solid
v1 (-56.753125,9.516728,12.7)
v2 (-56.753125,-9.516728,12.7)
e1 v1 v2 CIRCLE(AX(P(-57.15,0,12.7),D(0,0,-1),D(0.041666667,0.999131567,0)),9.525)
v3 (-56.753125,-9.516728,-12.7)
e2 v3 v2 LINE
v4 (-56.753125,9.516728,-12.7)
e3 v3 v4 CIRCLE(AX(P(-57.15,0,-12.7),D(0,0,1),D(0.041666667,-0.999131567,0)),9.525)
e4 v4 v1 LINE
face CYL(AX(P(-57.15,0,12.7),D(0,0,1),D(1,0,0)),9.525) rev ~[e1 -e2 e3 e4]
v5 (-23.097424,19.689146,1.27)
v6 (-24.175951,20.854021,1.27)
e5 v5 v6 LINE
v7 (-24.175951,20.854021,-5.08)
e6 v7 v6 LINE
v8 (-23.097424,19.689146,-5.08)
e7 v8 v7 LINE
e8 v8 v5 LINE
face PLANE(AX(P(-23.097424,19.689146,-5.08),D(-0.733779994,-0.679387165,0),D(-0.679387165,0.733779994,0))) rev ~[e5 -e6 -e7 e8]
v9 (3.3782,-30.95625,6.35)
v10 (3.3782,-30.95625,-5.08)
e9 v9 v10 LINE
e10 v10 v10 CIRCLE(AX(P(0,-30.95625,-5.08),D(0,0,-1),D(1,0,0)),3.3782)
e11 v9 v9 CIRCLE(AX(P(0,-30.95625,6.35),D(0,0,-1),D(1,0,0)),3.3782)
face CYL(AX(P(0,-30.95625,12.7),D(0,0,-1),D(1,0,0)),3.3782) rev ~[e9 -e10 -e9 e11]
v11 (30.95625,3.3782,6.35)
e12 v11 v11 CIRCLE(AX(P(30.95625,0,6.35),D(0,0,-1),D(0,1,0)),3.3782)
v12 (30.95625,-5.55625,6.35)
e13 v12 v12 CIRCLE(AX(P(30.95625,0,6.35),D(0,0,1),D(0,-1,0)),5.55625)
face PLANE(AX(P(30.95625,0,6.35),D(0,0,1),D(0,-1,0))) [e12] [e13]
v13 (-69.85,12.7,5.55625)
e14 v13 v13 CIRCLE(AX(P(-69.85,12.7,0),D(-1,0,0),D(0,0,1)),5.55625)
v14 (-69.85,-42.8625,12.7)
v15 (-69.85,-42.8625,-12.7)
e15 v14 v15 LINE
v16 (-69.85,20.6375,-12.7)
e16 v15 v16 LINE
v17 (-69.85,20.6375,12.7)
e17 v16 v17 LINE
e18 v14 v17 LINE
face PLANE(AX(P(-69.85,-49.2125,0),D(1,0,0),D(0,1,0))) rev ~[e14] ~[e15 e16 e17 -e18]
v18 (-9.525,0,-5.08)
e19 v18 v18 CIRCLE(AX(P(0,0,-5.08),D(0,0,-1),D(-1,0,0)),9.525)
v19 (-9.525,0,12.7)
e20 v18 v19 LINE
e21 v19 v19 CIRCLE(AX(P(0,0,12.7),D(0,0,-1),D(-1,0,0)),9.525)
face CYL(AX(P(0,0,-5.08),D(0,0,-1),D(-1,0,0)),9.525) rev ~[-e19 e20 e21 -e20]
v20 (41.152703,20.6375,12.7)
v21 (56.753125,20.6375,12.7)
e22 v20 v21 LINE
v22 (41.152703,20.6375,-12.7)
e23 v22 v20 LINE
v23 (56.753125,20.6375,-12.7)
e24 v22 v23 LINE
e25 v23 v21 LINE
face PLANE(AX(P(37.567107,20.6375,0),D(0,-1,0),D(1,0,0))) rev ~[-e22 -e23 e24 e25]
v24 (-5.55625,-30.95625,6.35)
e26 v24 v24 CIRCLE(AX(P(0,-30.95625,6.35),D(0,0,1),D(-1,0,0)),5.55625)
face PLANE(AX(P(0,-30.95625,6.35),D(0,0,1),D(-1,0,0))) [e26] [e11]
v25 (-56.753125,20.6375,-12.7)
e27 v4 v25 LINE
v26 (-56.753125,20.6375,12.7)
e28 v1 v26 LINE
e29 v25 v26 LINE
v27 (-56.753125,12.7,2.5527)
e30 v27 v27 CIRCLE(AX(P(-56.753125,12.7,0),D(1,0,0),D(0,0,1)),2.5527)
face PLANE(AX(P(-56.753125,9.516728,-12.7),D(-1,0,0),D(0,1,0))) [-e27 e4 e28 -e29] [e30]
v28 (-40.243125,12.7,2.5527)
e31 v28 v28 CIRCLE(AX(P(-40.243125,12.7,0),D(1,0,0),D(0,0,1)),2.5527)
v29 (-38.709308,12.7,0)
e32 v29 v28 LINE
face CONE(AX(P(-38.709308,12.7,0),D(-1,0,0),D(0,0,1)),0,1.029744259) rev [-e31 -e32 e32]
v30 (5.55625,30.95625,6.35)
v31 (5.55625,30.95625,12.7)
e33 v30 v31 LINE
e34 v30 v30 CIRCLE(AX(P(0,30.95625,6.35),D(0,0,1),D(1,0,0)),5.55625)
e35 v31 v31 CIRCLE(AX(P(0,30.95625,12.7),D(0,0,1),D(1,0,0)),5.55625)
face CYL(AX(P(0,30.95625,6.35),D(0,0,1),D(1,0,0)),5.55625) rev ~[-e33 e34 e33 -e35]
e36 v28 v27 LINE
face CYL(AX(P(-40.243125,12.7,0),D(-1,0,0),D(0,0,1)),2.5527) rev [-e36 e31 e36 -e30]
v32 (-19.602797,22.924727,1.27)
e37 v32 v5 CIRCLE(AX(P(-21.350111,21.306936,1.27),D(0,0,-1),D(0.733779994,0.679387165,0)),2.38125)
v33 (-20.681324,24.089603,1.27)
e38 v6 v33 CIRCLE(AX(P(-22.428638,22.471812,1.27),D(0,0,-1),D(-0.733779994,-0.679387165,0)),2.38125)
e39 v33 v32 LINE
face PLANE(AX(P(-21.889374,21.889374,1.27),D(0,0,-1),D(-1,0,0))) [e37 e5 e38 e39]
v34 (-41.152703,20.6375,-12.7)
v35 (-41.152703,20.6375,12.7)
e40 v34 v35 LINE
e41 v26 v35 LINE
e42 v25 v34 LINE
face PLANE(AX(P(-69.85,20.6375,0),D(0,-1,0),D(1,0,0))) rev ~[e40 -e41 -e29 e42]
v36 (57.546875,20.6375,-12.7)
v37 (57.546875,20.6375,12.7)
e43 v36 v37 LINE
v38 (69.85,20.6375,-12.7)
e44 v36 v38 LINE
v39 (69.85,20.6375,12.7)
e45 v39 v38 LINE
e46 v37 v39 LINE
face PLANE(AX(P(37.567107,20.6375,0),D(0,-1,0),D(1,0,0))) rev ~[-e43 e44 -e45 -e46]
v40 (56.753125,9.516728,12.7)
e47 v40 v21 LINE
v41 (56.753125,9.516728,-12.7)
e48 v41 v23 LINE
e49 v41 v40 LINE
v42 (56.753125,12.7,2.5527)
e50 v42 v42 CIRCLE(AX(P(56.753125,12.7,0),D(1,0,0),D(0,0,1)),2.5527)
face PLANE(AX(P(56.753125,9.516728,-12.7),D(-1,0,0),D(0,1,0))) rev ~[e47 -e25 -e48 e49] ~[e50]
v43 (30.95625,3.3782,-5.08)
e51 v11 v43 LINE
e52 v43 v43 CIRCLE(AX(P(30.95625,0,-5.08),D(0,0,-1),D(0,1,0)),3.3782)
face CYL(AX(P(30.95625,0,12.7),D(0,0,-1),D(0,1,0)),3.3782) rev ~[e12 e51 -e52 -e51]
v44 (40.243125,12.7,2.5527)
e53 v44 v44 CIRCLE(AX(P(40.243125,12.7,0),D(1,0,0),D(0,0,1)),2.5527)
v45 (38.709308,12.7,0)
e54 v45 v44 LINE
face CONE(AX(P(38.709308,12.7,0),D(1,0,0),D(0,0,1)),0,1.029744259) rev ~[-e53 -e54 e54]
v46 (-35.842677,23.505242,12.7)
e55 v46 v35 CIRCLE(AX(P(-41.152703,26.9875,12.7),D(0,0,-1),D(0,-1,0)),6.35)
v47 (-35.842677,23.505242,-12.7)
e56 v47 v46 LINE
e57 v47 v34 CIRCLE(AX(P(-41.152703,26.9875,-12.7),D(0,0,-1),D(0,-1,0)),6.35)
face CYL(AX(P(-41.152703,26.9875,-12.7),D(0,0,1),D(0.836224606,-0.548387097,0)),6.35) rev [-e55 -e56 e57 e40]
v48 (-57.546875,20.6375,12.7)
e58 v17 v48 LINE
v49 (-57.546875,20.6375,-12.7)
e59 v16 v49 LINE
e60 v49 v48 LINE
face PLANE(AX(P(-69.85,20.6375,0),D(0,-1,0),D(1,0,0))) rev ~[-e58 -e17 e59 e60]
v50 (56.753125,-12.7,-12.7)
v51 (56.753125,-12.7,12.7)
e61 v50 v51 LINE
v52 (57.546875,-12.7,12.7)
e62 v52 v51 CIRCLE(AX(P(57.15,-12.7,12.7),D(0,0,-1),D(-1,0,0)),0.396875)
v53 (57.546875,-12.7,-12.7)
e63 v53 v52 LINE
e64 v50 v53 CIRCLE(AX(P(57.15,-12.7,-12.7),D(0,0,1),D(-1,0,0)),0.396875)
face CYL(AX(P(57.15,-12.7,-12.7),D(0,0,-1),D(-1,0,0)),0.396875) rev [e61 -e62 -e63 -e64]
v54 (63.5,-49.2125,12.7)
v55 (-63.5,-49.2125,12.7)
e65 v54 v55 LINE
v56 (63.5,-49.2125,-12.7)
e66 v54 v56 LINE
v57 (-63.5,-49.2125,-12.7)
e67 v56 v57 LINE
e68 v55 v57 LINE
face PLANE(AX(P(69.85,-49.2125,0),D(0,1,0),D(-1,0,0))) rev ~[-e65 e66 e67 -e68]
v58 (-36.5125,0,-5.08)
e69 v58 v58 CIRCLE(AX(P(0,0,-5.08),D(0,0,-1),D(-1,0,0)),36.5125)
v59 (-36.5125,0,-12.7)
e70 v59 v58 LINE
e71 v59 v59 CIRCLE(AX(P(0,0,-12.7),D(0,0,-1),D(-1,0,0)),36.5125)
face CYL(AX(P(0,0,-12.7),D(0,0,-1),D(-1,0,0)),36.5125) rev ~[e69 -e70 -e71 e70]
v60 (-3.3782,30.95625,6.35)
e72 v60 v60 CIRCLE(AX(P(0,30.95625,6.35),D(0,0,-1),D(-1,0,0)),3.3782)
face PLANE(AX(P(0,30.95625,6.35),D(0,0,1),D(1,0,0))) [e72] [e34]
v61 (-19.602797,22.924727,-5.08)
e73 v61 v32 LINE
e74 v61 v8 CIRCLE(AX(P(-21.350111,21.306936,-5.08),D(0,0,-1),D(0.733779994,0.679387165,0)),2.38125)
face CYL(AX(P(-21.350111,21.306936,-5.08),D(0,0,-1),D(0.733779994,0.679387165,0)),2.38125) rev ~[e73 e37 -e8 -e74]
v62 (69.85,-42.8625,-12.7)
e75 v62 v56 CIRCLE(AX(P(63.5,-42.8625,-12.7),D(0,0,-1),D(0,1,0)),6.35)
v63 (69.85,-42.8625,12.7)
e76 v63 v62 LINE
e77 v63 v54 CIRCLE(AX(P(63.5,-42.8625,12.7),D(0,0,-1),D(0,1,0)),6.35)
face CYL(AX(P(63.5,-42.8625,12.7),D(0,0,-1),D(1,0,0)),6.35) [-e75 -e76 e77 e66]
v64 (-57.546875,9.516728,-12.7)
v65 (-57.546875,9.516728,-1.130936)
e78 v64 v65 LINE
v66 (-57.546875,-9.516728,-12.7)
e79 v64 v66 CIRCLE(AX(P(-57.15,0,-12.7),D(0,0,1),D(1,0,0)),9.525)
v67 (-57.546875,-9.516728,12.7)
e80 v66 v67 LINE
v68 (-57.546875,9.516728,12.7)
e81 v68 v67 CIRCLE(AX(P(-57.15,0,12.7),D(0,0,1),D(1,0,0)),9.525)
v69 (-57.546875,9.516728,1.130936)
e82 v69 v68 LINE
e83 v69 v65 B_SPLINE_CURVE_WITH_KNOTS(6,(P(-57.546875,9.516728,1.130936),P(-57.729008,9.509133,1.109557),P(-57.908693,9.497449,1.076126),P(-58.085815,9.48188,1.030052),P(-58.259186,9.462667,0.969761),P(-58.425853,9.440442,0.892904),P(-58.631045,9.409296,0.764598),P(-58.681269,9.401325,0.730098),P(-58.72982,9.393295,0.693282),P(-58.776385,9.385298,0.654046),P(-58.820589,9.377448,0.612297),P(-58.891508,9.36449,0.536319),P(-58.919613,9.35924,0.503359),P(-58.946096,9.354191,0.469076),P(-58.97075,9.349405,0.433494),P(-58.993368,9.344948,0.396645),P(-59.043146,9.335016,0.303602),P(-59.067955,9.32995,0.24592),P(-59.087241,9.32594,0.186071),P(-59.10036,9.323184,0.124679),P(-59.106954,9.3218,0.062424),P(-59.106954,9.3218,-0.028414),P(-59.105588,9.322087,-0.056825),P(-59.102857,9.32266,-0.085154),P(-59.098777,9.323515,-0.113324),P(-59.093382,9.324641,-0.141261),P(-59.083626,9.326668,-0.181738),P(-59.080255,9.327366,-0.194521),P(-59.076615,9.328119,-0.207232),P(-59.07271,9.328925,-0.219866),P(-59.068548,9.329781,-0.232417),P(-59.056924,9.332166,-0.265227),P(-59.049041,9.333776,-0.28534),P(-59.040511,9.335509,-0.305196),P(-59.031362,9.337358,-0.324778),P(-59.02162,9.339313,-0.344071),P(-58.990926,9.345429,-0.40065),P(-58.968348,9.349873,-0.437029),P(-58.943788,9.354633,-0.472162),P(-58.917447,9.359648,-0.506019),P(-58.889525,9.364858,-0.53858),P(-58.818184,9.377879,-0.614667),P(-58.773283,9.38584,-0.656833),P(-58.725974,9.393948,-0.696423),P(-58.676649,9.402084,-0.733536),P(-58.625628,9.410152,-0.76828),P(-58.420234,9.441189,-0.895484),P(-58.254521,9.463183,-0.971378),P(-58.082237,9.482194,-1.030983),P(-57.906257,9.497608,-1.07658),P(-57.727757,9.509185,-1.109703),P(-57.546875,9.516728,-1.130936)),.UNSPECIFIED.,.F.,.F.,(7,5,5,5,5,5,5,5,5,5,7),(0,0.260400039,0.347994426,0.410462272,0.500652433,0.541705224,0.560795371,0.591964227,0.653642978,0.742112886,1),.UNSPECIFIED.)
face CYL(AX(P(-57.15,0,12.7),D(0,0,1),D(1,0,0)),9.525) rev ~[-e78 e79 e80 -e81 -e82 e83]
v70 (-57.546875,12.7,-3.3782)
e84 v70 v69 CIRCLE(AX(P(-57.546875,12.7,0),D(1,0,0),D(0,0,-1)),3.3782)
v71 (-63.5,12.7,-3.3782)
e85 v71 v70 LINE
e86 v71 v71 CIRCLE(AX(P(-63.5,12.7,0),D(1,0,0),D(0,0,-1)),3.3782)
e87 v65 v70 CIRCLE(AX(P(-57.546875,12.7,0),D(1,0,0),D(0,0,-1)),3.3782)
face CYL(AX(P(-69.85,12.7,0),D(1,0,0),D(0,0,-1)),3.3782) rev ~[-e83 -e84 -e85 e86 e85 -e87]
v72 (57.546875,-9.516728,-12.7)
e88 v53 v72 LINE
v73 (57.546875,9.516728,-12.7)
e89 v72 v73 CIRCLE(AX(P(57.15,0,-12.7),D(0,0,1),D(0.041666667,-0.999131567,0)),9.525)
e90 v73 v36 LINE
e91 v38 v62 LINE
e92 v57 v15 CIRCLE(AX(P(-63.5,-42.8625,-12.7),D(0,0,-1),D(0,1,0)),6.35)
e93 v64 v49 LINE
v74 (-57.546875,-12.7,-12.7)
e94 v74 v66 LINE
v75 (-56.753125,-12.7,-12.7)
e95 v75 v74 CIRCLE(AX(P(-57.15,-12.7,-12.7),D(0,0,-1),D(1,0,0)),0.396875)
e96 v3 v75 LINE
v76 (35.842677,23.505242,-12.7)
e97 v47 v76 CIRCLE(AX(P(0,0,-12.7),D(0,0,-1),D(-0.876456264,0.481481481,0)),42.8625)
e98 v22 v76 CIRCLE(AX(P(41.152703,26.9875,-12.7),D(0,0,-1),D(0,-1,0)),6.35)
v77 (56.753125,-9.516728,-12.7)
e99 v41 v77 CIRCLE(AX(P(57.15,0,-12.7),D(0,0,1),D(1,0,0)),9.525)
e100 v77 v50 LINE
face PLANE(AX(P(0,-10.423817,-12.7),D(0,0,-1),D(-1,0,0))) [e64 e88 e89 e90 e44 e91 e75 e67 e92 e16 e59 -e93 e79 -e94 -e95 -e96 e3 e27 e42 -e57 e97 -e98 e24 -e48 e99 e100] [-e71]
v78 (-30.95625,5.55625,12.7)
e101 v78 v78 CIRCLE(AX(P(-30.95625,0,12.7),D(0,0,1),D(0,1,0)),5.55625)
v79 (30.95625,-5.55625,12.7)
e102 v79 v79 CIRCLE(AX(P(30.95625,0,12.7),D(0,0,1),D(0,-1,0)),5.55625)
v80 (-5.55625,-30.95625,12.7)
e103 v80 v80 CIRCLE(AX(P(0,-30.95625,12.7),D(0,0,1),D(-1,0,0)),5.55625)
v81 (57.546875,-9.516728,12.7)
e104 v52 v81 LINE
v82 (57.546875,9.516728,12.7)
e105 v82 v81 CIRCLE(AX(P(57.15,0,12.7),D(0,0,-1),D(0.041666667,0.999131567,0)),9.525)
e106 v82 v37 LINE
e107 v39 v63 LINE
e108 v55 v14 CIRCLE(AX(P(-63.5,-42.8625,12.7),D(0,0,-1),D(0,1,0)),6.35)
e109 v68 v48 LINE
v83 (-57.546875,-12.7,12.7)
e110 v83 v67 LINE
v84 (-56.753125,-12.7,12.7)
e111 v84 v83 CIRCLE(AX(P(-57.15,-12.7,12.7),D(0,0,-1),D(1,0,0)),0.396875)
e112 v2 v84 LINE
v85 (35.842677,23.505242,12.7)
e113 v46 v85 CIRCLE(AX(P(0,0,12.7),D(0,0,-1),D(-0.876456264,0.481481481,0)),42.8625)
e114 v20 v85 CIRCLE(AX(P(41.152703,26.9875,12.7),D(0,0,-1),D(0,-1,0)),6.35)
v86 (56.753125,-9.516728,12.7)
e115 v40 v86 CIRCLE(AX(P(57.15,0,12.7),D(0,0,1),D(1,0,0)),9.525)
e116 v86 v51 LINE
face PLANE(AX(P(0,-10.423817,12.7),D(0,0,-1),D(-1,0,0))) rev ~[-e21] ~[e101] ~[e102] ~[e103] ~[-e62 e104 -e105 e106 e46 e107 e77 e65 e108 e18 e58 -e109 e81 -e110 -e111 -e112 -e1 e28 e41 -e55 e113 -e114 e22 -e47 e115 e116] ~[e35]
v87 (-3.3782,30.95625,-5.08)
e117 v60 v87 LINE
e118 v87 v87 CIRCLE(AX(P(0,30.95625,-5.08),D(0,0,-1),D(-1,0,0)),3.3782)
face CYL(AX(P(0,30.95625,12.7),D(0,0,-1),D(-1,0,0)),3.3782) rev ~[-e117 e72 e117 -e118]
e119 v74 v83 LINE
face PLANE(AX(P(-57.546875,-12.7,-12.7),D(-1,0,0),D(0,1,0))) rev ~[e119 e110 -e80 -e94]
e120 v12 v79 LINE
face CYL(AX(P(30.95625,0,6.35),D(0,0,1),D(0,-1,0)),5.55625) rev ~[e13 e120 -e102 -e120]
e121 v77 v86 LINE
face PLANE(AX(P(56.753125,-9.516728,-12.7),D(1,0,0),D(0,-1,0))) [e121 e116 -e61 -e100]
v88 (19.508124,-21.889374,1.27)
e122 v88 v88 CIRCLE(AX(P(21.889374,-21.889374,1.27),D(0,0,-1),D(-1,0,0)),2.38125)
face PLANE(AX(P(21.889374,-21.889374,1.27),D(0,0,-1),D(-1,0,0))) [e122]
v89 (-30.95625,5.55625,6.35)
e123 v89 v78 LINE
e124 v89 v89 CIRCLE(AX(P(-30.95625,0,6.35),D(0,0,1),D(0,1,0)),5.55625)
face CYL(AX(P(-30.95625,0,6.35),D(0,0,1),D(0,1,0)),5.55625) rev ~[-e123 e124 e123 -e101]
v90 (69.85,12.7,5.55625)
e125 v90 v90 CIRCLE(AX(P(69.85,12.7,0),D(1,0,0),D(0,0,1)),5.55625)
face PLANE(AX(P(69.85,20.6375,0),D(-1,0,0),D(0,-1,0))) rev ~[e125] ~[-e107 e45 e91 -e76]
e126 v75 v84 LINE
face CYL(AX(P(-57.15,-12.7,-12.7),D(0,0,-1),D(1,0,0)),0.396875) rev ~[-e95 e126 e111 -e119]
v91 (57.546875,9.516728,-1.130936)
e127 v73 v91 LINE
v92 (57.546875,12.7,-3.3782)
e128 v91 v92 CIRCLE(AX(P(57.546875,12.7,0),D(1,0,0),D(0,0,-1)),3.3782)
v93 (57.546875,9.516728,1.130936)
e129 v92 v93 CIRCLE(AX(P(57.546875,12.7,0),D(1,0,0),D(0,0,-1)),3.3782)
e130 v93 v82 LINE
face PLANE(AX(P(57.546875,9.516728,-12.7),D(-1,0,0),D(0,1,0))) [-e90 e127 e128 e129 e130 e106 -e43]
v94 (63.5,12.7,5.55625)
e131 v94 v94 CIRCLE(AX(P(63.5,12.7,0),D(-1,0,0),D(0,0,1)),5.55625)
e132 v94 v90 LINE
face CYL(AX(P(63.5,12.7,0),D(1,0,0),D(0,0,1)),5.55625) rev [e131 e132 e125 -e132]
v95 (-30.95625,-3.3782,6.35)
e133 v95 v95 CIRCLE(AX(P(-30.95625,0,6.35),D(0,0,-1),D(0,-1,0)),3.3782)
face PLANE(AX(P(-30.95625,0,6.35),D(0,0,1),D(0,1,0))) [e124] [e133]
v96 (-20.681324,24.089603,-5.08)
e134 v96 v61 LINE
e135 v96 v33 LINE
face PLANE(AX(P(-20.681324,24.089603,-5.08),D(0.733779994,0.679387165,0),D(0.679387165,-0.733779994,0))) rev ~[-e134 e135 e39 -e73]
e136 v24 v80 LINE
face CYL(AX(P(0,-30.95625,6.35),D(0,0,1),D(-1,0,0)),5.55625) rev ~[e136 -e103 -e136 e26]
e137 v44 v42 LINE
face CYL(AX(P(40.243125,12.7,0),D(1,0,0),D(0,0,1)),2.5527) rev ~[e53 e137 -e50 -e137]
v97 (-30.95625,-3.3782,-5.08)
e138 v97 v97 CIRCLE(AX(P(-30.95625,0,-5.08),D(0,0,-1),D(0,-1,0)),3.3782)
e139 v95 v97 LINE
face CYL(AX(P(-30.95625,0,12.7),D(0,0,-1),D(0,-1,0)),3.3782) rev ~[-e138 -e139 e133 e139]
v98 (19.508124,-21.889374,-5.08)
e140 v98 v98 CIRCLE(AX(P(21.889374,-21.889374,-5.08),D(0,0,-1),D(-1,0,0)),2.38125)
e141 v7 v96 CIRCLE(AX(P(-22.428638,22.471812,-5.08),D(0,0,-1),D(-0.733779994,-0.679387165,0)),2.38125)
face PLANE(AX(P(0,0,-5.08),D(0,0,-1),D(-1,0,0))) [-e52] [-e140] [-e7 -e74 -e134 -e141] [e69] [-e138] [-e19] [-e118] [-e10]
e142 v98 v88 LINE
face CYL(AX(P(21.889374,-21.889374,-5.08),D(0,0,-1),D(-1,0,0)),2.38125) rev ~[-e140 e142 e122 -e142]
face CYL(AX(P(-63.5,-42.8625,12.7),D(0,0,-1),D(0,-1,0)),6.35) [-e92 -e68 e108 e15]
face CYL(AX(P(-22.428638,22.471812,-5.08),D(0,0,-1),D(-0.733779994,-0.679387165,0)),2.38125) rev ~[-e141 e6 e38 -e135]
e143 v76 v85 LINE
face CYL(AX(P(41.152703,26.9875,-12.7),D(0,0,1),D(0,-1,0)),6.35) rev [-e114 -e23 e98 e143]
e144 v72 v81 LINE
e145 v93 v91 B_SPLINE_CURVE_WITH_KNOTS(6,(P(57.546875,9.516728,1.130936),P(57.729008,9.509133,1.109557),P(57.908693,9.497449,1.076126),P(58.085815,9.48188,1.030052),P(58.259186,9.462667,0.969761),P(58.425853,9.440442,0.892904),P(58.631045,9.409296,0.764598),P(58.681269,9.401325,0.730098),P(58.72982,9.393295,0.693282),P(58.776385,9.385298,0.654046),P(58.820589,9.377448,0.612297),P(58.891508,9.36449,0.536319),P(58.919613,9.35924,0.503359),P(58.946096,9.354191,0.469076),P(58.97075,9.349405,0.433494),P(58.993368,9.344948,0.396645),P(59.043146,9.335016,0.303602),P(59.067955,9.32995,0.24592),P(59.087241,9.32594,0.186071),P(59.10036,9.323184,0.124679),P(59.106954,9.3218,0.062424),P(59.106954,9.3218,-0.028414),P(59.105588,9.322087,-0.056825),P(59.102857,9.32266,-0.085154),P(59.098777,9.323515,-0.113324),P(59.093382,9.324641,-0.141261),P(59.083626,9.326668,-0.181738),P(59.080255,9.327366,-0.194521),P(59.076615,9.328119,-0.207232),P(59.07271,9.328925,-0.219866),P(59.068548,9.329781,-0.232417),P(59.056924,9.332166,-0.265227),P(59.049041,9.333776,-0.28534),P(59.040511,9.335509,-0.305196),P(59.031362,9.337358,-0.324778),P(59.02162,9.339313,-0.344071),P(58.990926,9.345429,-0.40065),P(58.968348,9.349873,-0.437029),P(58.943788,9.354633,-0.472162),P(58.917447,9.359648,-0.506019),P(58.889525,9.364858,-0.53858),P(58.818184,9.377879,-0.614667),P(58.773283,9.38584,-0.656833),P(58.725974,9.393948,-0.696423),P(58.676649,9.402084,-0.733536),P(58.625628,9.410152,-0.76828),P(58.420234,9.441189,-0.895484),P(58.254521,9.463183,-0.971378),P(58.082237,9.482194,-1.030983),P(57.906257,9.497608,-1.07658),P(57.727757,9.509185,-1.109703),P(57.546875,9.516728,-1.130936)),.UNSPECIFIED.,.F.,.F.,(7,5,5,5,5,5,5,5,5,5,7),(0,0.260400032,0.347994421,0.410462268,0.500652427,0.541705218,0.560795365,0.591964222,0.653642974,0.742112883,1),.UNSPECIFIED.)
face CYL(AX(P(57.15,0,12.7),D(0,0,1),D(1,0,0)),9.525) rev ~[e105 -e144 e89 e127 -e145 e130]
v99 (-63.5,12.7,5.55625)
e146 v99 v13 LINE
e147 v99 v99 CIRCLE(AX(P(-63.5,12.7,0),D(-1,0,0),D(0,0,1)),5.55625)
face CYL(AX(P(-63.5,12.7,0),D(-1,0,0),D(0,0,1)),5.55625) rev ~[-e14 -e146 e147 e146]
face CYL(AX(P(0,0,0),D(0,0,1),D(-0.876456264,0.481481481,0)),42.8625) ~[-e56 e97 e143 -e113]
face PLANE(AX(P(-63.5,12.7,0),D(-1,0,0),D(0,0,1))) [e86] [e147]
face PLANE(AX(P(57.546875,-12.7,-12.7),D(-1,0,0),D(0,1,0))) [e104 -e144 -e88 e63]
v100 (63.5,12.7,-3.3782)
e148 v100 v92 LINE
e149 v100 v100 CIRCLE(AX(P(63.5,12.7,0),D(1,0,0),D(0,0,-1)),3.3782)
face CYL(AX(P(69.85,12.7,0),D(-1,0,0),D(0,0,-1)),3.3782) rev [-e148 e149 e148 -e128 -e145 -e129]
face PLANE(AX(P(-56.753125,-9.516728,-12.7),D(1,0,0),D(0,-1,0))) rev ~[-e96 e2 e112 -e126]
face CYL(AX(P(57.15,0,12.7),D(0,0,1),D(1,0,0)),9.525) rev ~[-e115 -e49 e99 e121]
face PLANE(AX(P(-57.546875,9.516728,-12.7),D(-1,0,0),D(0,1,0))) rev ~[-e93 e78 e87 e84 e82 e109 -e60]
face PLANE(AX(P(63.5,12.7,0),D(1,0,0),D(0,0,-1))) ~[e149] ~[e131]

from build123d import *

# Parameters (mm, degrees)
BASE_DEPTH                            = 12.7
TUBE_COUNTERBORE_D                    = 6.7564
TUBE_COUNTERBORE_CBORE_D              = 11.1125
TUBE_COUNTERBORE_CBORE_DEPTH          = 6.35
TUBE_COUNTERBORE_PATTERN_COUNT        = 4
SKETCH8_R                             = 36.5125
STRUCTURE_TUBE_RECESS_DEPTH           = 7.62
SKETCH9_R                             = 9.525
LEAD_SCREW_THRU_HOLE_DEPTH            = 88.275546726
SKETCH13_R                            = 9.525
RAIL_BORE_PILOT_HOLE_DEPTH            = 90.140634148
SKETCH14_R                            = 2.38125
ALIGNMENT_FEATURES_DEPTH              = 6.35
GENERIC_ROUNDING_FILLET_R             = 6.35
SKETCH15_W                            = 0.79375
SKETCH15_H                            = 11.120771821
FLEXURE_SLITS_DEPTH                   = 90.140634148
FLEXURE_CLAMP_COUNTERBORE_D           = 6.7564
FLEXURE_CLAMP_COUNTERBORE_DEPTH       = 12.303125
FLEXURE_CLAMP_COUNTERBORE_CBORE_D     = 11.1125
FLEXURE_CLAMP_COUNTERBORE_CBORE_DEPTH = 6.35


with BuildPart() as part:
    # Bolt circle → Base (new, symmetric)
    with BuildSketch(Plane.XY):
        with BuildLine():
            Line((37.567106623, 20.6375), (69.85, 20.6375))
            Line((69.85, 20.6375), (69.85, -49.2125))
            Line((69.85, -49.2125), (-69.85, -49.2125))
            Line((-69.85, -49.2125), (-69.85, 20.6375))
            Line((-69.85, 20.6375), (-37.567106623, 20.6375))
            ThreePointArc((-37.567106623, 20.6375), (0, 42.8625), (37.567106623, 20.6375))
        make_face()
    extrude(amount=BASE_DEPTH, both=True)

    # Tube counterbore (through all)
    with Locations(Plane.XY.offset(12.7)):
        with Locations((0, 30.95625)):
            tube_counterbore = CounterBoreHole(TUBE_COUNTERBORE_D / 2, TUBE_COUNTERBORE_CBORE_D / 2, TUBE_COUNTERBORE_CBORE_DEPTH)

    # Tube counterbore pattern: Tube counterbore ×4 about axis
    tube_counterbore_pattern_axis = Axis((0, 0, 0), (0, 0, 1))
    for i in range(1, TUBE_COUNTERBORE_PATTERN_COUNT):
        add(tube_counterbore.rotate(tube_counterbore_pattern_axis, i * 360 / TUBE_COUNTERBORE_PATTERN_COUNT), mode=Mode.SUBTRACT)

    # Sketch8 → Structure_tube_recess (cut)
    with BuildSketch(Plane(origin=(0, 0, -12.7), x_dir=(-1, 0, 0), z_dir=(0, 0, -1))):
        Circle(SKETCH8_R)
    extrude(amount=-STRUCTURE_TUBE_RECESS_DEPTH, mode=Mode.SUBTRACT)

    # Sketch9 → Lead_screw_thru_hole (cut, through all)
    with BuildSketch(Plane(origin=(0, 0, -5.08), x_dir=(-1, 0, 0), z_dir=(0, 0, -1))):
        Circle(SKETCH9_R)
    extrude(amount=-LEAD_SCREW_THRU_HOLE_DEPTH, mode=Mode.SUBTRACT)

    # Sketch13 → Rail_bore_pilot_hole (cut, through all)
    with BuildSketch(Plane.XY.offset(12.7)):
        with Locations((57.15, 0)):
            Circle(SKETCH13_R)
        with Locations((-57.15, 0)):
            Circle(SKETCH13_R)
    extrude(amount=-RAIL_BORE_PILOT_HOLE_DEPTH, mode=Mode.SUBTRACT)

    # Sketch14 → Alignment_features (cut)
    with BuildSketch(Plane(origin=(0, 0, -5.08), x_dir=(-1, 0, 0), z_dir=(0, 0, -1))):
        with Locations((-21.889374295, -21.889374295)):
            Circle(SKETCH14_R)
        with BuildLine():
            Line((20.681324246, 24.089602852), (19.602797121, 22.924727111))
            ThreePointArc((19.602797121, 22.924727111), (19.732320046, 19.559622813), (23.097424344, 19.689145738))
            Line((23.097424344, 19.689145738), (24.175951469, 20.854021479))
            ThreePointArc((24.175951469, 20.854021479), (24.046428544, 24.219125777), (20.681324246, 24.089602852))
        make_face()
    extrude(amount=-ALIGNMENT_FEATURES_DEPTH, mode=Mode.SUBTRACT)

    # Generic_rounding_fillet
    generic_rounding_fillet_edges = [part.edges().sort_by_distance(p)[0] for p in [
        (37.567106623, 20.6375, 0),
        (69.85, -49.2125, 0),
        (-69.85, -49.2125, 0),
        (-37.567106623, 20.6375, 0),
    ]]
    fillet(generic_rounding_fillet_edges, radius=GENERIC_ROUNDING_FILLET_R)

    # Sketch15 → Flexure_slits (cut, through all)
    with BuildSketch(Plane(origin=(0, 0, -12.7), x_dir=(-1, 0, 0), z_dir=(0, 0, -1))):
        with BuildLine():
            Line((56.753125, -9.516728179), (56.753125, -12.7))
            ThreePointArc((56.753125, -12.7), (57.15, -13.096875), (57.546875, -12.7))
            Line((57.546875, -12.7), (57.546875, -9.516728179))
            ThreePointArc((57.546875, -9.516728179), (57.15, -9.525), (56.753125, -9.516728179))
        make_face()
        with Locations((57.15, 15.07711409)):
            Rectangle(SKETCH15_W, SKETCH15_H)
        with BuildLine():
            Line((-57.546875, -12.7), (-57.546875, -9.516728179))
            ThreePointArc((-57.546875, -9.516728179), (-57.15, -9.525), (-56.753125, -9.516728179))
            Line((-56.753125, -9.516728179), (-56.753125, -12.7))
            ThreePointArc((-56.753125, -12.7), (-57.15, -13.096875), (-57.546875, -12.7))
        make_face()
        with Locations((-57.15, 15.07711409)):
            Rectangle(SKETCH15_W, SKETCH15_H)
    extrude(amount=-FLEXURE_SLITS_DEPTH, mode=Mode.SUBTRACT)

    # Flexure_clamp_counterbore
    with Locations(Plane(origin=(-69.85, 5.772256362, 0.258118138), x_dir=(0, 0, 1), z_dir=(-1, 0, 0))):
        with Locations((-0.258118138, 6.927743638)):
            flexure_clamp_counterbore = CounterBoreHole(FLEXURE_CLAMP_COUNTERBORE_D / 2, FLEXURE_CLAMP_COUNTERBORE_CBORE_D / 2, FLEXURE_CLAMP_COUNTERBORE_CBORE_DEPTH, depth=FLEXURE_CLAMP_COUNTERBORE_DEPTH)

    # Sketch18 → Flexure_clamp_threads (revolve, cut)
    with BuildSketch(Plane(origin=(-56.753125, 12.7, 0), x_dir=(0, 0, 1), z_dir=(0, 1, 0))):
        Polygon((0, 0), (0, 18.043816902), (2.5527, 16.51), (2.5527, 0), align=None)
    flexure_clamp_threads = revolve(axis=Axis((-63.103125, 12.7, 0), (1, 0, 0)), mode=Mode.SUBTRACT)

    # Flexure_clamp_fastener_holes: Flexure_clamp_counterbore, Flexure_clamp_threads across plane
    add(flexure_clamp_counterbore.mirror(Plane(origin=(0, 0, 0), x_dir=(0, 0, 1), z_dir=(1, 0, 0))), mode=Mode.SUBTRACT)
    add(flexure_clamp_threads.mirror(Plane(origin=(0, 0, 0), x_dir=(0, 0, 1), z_dir=(1, 0, 0))), mode=Mode.SUBTRACT)


solid = part.part
